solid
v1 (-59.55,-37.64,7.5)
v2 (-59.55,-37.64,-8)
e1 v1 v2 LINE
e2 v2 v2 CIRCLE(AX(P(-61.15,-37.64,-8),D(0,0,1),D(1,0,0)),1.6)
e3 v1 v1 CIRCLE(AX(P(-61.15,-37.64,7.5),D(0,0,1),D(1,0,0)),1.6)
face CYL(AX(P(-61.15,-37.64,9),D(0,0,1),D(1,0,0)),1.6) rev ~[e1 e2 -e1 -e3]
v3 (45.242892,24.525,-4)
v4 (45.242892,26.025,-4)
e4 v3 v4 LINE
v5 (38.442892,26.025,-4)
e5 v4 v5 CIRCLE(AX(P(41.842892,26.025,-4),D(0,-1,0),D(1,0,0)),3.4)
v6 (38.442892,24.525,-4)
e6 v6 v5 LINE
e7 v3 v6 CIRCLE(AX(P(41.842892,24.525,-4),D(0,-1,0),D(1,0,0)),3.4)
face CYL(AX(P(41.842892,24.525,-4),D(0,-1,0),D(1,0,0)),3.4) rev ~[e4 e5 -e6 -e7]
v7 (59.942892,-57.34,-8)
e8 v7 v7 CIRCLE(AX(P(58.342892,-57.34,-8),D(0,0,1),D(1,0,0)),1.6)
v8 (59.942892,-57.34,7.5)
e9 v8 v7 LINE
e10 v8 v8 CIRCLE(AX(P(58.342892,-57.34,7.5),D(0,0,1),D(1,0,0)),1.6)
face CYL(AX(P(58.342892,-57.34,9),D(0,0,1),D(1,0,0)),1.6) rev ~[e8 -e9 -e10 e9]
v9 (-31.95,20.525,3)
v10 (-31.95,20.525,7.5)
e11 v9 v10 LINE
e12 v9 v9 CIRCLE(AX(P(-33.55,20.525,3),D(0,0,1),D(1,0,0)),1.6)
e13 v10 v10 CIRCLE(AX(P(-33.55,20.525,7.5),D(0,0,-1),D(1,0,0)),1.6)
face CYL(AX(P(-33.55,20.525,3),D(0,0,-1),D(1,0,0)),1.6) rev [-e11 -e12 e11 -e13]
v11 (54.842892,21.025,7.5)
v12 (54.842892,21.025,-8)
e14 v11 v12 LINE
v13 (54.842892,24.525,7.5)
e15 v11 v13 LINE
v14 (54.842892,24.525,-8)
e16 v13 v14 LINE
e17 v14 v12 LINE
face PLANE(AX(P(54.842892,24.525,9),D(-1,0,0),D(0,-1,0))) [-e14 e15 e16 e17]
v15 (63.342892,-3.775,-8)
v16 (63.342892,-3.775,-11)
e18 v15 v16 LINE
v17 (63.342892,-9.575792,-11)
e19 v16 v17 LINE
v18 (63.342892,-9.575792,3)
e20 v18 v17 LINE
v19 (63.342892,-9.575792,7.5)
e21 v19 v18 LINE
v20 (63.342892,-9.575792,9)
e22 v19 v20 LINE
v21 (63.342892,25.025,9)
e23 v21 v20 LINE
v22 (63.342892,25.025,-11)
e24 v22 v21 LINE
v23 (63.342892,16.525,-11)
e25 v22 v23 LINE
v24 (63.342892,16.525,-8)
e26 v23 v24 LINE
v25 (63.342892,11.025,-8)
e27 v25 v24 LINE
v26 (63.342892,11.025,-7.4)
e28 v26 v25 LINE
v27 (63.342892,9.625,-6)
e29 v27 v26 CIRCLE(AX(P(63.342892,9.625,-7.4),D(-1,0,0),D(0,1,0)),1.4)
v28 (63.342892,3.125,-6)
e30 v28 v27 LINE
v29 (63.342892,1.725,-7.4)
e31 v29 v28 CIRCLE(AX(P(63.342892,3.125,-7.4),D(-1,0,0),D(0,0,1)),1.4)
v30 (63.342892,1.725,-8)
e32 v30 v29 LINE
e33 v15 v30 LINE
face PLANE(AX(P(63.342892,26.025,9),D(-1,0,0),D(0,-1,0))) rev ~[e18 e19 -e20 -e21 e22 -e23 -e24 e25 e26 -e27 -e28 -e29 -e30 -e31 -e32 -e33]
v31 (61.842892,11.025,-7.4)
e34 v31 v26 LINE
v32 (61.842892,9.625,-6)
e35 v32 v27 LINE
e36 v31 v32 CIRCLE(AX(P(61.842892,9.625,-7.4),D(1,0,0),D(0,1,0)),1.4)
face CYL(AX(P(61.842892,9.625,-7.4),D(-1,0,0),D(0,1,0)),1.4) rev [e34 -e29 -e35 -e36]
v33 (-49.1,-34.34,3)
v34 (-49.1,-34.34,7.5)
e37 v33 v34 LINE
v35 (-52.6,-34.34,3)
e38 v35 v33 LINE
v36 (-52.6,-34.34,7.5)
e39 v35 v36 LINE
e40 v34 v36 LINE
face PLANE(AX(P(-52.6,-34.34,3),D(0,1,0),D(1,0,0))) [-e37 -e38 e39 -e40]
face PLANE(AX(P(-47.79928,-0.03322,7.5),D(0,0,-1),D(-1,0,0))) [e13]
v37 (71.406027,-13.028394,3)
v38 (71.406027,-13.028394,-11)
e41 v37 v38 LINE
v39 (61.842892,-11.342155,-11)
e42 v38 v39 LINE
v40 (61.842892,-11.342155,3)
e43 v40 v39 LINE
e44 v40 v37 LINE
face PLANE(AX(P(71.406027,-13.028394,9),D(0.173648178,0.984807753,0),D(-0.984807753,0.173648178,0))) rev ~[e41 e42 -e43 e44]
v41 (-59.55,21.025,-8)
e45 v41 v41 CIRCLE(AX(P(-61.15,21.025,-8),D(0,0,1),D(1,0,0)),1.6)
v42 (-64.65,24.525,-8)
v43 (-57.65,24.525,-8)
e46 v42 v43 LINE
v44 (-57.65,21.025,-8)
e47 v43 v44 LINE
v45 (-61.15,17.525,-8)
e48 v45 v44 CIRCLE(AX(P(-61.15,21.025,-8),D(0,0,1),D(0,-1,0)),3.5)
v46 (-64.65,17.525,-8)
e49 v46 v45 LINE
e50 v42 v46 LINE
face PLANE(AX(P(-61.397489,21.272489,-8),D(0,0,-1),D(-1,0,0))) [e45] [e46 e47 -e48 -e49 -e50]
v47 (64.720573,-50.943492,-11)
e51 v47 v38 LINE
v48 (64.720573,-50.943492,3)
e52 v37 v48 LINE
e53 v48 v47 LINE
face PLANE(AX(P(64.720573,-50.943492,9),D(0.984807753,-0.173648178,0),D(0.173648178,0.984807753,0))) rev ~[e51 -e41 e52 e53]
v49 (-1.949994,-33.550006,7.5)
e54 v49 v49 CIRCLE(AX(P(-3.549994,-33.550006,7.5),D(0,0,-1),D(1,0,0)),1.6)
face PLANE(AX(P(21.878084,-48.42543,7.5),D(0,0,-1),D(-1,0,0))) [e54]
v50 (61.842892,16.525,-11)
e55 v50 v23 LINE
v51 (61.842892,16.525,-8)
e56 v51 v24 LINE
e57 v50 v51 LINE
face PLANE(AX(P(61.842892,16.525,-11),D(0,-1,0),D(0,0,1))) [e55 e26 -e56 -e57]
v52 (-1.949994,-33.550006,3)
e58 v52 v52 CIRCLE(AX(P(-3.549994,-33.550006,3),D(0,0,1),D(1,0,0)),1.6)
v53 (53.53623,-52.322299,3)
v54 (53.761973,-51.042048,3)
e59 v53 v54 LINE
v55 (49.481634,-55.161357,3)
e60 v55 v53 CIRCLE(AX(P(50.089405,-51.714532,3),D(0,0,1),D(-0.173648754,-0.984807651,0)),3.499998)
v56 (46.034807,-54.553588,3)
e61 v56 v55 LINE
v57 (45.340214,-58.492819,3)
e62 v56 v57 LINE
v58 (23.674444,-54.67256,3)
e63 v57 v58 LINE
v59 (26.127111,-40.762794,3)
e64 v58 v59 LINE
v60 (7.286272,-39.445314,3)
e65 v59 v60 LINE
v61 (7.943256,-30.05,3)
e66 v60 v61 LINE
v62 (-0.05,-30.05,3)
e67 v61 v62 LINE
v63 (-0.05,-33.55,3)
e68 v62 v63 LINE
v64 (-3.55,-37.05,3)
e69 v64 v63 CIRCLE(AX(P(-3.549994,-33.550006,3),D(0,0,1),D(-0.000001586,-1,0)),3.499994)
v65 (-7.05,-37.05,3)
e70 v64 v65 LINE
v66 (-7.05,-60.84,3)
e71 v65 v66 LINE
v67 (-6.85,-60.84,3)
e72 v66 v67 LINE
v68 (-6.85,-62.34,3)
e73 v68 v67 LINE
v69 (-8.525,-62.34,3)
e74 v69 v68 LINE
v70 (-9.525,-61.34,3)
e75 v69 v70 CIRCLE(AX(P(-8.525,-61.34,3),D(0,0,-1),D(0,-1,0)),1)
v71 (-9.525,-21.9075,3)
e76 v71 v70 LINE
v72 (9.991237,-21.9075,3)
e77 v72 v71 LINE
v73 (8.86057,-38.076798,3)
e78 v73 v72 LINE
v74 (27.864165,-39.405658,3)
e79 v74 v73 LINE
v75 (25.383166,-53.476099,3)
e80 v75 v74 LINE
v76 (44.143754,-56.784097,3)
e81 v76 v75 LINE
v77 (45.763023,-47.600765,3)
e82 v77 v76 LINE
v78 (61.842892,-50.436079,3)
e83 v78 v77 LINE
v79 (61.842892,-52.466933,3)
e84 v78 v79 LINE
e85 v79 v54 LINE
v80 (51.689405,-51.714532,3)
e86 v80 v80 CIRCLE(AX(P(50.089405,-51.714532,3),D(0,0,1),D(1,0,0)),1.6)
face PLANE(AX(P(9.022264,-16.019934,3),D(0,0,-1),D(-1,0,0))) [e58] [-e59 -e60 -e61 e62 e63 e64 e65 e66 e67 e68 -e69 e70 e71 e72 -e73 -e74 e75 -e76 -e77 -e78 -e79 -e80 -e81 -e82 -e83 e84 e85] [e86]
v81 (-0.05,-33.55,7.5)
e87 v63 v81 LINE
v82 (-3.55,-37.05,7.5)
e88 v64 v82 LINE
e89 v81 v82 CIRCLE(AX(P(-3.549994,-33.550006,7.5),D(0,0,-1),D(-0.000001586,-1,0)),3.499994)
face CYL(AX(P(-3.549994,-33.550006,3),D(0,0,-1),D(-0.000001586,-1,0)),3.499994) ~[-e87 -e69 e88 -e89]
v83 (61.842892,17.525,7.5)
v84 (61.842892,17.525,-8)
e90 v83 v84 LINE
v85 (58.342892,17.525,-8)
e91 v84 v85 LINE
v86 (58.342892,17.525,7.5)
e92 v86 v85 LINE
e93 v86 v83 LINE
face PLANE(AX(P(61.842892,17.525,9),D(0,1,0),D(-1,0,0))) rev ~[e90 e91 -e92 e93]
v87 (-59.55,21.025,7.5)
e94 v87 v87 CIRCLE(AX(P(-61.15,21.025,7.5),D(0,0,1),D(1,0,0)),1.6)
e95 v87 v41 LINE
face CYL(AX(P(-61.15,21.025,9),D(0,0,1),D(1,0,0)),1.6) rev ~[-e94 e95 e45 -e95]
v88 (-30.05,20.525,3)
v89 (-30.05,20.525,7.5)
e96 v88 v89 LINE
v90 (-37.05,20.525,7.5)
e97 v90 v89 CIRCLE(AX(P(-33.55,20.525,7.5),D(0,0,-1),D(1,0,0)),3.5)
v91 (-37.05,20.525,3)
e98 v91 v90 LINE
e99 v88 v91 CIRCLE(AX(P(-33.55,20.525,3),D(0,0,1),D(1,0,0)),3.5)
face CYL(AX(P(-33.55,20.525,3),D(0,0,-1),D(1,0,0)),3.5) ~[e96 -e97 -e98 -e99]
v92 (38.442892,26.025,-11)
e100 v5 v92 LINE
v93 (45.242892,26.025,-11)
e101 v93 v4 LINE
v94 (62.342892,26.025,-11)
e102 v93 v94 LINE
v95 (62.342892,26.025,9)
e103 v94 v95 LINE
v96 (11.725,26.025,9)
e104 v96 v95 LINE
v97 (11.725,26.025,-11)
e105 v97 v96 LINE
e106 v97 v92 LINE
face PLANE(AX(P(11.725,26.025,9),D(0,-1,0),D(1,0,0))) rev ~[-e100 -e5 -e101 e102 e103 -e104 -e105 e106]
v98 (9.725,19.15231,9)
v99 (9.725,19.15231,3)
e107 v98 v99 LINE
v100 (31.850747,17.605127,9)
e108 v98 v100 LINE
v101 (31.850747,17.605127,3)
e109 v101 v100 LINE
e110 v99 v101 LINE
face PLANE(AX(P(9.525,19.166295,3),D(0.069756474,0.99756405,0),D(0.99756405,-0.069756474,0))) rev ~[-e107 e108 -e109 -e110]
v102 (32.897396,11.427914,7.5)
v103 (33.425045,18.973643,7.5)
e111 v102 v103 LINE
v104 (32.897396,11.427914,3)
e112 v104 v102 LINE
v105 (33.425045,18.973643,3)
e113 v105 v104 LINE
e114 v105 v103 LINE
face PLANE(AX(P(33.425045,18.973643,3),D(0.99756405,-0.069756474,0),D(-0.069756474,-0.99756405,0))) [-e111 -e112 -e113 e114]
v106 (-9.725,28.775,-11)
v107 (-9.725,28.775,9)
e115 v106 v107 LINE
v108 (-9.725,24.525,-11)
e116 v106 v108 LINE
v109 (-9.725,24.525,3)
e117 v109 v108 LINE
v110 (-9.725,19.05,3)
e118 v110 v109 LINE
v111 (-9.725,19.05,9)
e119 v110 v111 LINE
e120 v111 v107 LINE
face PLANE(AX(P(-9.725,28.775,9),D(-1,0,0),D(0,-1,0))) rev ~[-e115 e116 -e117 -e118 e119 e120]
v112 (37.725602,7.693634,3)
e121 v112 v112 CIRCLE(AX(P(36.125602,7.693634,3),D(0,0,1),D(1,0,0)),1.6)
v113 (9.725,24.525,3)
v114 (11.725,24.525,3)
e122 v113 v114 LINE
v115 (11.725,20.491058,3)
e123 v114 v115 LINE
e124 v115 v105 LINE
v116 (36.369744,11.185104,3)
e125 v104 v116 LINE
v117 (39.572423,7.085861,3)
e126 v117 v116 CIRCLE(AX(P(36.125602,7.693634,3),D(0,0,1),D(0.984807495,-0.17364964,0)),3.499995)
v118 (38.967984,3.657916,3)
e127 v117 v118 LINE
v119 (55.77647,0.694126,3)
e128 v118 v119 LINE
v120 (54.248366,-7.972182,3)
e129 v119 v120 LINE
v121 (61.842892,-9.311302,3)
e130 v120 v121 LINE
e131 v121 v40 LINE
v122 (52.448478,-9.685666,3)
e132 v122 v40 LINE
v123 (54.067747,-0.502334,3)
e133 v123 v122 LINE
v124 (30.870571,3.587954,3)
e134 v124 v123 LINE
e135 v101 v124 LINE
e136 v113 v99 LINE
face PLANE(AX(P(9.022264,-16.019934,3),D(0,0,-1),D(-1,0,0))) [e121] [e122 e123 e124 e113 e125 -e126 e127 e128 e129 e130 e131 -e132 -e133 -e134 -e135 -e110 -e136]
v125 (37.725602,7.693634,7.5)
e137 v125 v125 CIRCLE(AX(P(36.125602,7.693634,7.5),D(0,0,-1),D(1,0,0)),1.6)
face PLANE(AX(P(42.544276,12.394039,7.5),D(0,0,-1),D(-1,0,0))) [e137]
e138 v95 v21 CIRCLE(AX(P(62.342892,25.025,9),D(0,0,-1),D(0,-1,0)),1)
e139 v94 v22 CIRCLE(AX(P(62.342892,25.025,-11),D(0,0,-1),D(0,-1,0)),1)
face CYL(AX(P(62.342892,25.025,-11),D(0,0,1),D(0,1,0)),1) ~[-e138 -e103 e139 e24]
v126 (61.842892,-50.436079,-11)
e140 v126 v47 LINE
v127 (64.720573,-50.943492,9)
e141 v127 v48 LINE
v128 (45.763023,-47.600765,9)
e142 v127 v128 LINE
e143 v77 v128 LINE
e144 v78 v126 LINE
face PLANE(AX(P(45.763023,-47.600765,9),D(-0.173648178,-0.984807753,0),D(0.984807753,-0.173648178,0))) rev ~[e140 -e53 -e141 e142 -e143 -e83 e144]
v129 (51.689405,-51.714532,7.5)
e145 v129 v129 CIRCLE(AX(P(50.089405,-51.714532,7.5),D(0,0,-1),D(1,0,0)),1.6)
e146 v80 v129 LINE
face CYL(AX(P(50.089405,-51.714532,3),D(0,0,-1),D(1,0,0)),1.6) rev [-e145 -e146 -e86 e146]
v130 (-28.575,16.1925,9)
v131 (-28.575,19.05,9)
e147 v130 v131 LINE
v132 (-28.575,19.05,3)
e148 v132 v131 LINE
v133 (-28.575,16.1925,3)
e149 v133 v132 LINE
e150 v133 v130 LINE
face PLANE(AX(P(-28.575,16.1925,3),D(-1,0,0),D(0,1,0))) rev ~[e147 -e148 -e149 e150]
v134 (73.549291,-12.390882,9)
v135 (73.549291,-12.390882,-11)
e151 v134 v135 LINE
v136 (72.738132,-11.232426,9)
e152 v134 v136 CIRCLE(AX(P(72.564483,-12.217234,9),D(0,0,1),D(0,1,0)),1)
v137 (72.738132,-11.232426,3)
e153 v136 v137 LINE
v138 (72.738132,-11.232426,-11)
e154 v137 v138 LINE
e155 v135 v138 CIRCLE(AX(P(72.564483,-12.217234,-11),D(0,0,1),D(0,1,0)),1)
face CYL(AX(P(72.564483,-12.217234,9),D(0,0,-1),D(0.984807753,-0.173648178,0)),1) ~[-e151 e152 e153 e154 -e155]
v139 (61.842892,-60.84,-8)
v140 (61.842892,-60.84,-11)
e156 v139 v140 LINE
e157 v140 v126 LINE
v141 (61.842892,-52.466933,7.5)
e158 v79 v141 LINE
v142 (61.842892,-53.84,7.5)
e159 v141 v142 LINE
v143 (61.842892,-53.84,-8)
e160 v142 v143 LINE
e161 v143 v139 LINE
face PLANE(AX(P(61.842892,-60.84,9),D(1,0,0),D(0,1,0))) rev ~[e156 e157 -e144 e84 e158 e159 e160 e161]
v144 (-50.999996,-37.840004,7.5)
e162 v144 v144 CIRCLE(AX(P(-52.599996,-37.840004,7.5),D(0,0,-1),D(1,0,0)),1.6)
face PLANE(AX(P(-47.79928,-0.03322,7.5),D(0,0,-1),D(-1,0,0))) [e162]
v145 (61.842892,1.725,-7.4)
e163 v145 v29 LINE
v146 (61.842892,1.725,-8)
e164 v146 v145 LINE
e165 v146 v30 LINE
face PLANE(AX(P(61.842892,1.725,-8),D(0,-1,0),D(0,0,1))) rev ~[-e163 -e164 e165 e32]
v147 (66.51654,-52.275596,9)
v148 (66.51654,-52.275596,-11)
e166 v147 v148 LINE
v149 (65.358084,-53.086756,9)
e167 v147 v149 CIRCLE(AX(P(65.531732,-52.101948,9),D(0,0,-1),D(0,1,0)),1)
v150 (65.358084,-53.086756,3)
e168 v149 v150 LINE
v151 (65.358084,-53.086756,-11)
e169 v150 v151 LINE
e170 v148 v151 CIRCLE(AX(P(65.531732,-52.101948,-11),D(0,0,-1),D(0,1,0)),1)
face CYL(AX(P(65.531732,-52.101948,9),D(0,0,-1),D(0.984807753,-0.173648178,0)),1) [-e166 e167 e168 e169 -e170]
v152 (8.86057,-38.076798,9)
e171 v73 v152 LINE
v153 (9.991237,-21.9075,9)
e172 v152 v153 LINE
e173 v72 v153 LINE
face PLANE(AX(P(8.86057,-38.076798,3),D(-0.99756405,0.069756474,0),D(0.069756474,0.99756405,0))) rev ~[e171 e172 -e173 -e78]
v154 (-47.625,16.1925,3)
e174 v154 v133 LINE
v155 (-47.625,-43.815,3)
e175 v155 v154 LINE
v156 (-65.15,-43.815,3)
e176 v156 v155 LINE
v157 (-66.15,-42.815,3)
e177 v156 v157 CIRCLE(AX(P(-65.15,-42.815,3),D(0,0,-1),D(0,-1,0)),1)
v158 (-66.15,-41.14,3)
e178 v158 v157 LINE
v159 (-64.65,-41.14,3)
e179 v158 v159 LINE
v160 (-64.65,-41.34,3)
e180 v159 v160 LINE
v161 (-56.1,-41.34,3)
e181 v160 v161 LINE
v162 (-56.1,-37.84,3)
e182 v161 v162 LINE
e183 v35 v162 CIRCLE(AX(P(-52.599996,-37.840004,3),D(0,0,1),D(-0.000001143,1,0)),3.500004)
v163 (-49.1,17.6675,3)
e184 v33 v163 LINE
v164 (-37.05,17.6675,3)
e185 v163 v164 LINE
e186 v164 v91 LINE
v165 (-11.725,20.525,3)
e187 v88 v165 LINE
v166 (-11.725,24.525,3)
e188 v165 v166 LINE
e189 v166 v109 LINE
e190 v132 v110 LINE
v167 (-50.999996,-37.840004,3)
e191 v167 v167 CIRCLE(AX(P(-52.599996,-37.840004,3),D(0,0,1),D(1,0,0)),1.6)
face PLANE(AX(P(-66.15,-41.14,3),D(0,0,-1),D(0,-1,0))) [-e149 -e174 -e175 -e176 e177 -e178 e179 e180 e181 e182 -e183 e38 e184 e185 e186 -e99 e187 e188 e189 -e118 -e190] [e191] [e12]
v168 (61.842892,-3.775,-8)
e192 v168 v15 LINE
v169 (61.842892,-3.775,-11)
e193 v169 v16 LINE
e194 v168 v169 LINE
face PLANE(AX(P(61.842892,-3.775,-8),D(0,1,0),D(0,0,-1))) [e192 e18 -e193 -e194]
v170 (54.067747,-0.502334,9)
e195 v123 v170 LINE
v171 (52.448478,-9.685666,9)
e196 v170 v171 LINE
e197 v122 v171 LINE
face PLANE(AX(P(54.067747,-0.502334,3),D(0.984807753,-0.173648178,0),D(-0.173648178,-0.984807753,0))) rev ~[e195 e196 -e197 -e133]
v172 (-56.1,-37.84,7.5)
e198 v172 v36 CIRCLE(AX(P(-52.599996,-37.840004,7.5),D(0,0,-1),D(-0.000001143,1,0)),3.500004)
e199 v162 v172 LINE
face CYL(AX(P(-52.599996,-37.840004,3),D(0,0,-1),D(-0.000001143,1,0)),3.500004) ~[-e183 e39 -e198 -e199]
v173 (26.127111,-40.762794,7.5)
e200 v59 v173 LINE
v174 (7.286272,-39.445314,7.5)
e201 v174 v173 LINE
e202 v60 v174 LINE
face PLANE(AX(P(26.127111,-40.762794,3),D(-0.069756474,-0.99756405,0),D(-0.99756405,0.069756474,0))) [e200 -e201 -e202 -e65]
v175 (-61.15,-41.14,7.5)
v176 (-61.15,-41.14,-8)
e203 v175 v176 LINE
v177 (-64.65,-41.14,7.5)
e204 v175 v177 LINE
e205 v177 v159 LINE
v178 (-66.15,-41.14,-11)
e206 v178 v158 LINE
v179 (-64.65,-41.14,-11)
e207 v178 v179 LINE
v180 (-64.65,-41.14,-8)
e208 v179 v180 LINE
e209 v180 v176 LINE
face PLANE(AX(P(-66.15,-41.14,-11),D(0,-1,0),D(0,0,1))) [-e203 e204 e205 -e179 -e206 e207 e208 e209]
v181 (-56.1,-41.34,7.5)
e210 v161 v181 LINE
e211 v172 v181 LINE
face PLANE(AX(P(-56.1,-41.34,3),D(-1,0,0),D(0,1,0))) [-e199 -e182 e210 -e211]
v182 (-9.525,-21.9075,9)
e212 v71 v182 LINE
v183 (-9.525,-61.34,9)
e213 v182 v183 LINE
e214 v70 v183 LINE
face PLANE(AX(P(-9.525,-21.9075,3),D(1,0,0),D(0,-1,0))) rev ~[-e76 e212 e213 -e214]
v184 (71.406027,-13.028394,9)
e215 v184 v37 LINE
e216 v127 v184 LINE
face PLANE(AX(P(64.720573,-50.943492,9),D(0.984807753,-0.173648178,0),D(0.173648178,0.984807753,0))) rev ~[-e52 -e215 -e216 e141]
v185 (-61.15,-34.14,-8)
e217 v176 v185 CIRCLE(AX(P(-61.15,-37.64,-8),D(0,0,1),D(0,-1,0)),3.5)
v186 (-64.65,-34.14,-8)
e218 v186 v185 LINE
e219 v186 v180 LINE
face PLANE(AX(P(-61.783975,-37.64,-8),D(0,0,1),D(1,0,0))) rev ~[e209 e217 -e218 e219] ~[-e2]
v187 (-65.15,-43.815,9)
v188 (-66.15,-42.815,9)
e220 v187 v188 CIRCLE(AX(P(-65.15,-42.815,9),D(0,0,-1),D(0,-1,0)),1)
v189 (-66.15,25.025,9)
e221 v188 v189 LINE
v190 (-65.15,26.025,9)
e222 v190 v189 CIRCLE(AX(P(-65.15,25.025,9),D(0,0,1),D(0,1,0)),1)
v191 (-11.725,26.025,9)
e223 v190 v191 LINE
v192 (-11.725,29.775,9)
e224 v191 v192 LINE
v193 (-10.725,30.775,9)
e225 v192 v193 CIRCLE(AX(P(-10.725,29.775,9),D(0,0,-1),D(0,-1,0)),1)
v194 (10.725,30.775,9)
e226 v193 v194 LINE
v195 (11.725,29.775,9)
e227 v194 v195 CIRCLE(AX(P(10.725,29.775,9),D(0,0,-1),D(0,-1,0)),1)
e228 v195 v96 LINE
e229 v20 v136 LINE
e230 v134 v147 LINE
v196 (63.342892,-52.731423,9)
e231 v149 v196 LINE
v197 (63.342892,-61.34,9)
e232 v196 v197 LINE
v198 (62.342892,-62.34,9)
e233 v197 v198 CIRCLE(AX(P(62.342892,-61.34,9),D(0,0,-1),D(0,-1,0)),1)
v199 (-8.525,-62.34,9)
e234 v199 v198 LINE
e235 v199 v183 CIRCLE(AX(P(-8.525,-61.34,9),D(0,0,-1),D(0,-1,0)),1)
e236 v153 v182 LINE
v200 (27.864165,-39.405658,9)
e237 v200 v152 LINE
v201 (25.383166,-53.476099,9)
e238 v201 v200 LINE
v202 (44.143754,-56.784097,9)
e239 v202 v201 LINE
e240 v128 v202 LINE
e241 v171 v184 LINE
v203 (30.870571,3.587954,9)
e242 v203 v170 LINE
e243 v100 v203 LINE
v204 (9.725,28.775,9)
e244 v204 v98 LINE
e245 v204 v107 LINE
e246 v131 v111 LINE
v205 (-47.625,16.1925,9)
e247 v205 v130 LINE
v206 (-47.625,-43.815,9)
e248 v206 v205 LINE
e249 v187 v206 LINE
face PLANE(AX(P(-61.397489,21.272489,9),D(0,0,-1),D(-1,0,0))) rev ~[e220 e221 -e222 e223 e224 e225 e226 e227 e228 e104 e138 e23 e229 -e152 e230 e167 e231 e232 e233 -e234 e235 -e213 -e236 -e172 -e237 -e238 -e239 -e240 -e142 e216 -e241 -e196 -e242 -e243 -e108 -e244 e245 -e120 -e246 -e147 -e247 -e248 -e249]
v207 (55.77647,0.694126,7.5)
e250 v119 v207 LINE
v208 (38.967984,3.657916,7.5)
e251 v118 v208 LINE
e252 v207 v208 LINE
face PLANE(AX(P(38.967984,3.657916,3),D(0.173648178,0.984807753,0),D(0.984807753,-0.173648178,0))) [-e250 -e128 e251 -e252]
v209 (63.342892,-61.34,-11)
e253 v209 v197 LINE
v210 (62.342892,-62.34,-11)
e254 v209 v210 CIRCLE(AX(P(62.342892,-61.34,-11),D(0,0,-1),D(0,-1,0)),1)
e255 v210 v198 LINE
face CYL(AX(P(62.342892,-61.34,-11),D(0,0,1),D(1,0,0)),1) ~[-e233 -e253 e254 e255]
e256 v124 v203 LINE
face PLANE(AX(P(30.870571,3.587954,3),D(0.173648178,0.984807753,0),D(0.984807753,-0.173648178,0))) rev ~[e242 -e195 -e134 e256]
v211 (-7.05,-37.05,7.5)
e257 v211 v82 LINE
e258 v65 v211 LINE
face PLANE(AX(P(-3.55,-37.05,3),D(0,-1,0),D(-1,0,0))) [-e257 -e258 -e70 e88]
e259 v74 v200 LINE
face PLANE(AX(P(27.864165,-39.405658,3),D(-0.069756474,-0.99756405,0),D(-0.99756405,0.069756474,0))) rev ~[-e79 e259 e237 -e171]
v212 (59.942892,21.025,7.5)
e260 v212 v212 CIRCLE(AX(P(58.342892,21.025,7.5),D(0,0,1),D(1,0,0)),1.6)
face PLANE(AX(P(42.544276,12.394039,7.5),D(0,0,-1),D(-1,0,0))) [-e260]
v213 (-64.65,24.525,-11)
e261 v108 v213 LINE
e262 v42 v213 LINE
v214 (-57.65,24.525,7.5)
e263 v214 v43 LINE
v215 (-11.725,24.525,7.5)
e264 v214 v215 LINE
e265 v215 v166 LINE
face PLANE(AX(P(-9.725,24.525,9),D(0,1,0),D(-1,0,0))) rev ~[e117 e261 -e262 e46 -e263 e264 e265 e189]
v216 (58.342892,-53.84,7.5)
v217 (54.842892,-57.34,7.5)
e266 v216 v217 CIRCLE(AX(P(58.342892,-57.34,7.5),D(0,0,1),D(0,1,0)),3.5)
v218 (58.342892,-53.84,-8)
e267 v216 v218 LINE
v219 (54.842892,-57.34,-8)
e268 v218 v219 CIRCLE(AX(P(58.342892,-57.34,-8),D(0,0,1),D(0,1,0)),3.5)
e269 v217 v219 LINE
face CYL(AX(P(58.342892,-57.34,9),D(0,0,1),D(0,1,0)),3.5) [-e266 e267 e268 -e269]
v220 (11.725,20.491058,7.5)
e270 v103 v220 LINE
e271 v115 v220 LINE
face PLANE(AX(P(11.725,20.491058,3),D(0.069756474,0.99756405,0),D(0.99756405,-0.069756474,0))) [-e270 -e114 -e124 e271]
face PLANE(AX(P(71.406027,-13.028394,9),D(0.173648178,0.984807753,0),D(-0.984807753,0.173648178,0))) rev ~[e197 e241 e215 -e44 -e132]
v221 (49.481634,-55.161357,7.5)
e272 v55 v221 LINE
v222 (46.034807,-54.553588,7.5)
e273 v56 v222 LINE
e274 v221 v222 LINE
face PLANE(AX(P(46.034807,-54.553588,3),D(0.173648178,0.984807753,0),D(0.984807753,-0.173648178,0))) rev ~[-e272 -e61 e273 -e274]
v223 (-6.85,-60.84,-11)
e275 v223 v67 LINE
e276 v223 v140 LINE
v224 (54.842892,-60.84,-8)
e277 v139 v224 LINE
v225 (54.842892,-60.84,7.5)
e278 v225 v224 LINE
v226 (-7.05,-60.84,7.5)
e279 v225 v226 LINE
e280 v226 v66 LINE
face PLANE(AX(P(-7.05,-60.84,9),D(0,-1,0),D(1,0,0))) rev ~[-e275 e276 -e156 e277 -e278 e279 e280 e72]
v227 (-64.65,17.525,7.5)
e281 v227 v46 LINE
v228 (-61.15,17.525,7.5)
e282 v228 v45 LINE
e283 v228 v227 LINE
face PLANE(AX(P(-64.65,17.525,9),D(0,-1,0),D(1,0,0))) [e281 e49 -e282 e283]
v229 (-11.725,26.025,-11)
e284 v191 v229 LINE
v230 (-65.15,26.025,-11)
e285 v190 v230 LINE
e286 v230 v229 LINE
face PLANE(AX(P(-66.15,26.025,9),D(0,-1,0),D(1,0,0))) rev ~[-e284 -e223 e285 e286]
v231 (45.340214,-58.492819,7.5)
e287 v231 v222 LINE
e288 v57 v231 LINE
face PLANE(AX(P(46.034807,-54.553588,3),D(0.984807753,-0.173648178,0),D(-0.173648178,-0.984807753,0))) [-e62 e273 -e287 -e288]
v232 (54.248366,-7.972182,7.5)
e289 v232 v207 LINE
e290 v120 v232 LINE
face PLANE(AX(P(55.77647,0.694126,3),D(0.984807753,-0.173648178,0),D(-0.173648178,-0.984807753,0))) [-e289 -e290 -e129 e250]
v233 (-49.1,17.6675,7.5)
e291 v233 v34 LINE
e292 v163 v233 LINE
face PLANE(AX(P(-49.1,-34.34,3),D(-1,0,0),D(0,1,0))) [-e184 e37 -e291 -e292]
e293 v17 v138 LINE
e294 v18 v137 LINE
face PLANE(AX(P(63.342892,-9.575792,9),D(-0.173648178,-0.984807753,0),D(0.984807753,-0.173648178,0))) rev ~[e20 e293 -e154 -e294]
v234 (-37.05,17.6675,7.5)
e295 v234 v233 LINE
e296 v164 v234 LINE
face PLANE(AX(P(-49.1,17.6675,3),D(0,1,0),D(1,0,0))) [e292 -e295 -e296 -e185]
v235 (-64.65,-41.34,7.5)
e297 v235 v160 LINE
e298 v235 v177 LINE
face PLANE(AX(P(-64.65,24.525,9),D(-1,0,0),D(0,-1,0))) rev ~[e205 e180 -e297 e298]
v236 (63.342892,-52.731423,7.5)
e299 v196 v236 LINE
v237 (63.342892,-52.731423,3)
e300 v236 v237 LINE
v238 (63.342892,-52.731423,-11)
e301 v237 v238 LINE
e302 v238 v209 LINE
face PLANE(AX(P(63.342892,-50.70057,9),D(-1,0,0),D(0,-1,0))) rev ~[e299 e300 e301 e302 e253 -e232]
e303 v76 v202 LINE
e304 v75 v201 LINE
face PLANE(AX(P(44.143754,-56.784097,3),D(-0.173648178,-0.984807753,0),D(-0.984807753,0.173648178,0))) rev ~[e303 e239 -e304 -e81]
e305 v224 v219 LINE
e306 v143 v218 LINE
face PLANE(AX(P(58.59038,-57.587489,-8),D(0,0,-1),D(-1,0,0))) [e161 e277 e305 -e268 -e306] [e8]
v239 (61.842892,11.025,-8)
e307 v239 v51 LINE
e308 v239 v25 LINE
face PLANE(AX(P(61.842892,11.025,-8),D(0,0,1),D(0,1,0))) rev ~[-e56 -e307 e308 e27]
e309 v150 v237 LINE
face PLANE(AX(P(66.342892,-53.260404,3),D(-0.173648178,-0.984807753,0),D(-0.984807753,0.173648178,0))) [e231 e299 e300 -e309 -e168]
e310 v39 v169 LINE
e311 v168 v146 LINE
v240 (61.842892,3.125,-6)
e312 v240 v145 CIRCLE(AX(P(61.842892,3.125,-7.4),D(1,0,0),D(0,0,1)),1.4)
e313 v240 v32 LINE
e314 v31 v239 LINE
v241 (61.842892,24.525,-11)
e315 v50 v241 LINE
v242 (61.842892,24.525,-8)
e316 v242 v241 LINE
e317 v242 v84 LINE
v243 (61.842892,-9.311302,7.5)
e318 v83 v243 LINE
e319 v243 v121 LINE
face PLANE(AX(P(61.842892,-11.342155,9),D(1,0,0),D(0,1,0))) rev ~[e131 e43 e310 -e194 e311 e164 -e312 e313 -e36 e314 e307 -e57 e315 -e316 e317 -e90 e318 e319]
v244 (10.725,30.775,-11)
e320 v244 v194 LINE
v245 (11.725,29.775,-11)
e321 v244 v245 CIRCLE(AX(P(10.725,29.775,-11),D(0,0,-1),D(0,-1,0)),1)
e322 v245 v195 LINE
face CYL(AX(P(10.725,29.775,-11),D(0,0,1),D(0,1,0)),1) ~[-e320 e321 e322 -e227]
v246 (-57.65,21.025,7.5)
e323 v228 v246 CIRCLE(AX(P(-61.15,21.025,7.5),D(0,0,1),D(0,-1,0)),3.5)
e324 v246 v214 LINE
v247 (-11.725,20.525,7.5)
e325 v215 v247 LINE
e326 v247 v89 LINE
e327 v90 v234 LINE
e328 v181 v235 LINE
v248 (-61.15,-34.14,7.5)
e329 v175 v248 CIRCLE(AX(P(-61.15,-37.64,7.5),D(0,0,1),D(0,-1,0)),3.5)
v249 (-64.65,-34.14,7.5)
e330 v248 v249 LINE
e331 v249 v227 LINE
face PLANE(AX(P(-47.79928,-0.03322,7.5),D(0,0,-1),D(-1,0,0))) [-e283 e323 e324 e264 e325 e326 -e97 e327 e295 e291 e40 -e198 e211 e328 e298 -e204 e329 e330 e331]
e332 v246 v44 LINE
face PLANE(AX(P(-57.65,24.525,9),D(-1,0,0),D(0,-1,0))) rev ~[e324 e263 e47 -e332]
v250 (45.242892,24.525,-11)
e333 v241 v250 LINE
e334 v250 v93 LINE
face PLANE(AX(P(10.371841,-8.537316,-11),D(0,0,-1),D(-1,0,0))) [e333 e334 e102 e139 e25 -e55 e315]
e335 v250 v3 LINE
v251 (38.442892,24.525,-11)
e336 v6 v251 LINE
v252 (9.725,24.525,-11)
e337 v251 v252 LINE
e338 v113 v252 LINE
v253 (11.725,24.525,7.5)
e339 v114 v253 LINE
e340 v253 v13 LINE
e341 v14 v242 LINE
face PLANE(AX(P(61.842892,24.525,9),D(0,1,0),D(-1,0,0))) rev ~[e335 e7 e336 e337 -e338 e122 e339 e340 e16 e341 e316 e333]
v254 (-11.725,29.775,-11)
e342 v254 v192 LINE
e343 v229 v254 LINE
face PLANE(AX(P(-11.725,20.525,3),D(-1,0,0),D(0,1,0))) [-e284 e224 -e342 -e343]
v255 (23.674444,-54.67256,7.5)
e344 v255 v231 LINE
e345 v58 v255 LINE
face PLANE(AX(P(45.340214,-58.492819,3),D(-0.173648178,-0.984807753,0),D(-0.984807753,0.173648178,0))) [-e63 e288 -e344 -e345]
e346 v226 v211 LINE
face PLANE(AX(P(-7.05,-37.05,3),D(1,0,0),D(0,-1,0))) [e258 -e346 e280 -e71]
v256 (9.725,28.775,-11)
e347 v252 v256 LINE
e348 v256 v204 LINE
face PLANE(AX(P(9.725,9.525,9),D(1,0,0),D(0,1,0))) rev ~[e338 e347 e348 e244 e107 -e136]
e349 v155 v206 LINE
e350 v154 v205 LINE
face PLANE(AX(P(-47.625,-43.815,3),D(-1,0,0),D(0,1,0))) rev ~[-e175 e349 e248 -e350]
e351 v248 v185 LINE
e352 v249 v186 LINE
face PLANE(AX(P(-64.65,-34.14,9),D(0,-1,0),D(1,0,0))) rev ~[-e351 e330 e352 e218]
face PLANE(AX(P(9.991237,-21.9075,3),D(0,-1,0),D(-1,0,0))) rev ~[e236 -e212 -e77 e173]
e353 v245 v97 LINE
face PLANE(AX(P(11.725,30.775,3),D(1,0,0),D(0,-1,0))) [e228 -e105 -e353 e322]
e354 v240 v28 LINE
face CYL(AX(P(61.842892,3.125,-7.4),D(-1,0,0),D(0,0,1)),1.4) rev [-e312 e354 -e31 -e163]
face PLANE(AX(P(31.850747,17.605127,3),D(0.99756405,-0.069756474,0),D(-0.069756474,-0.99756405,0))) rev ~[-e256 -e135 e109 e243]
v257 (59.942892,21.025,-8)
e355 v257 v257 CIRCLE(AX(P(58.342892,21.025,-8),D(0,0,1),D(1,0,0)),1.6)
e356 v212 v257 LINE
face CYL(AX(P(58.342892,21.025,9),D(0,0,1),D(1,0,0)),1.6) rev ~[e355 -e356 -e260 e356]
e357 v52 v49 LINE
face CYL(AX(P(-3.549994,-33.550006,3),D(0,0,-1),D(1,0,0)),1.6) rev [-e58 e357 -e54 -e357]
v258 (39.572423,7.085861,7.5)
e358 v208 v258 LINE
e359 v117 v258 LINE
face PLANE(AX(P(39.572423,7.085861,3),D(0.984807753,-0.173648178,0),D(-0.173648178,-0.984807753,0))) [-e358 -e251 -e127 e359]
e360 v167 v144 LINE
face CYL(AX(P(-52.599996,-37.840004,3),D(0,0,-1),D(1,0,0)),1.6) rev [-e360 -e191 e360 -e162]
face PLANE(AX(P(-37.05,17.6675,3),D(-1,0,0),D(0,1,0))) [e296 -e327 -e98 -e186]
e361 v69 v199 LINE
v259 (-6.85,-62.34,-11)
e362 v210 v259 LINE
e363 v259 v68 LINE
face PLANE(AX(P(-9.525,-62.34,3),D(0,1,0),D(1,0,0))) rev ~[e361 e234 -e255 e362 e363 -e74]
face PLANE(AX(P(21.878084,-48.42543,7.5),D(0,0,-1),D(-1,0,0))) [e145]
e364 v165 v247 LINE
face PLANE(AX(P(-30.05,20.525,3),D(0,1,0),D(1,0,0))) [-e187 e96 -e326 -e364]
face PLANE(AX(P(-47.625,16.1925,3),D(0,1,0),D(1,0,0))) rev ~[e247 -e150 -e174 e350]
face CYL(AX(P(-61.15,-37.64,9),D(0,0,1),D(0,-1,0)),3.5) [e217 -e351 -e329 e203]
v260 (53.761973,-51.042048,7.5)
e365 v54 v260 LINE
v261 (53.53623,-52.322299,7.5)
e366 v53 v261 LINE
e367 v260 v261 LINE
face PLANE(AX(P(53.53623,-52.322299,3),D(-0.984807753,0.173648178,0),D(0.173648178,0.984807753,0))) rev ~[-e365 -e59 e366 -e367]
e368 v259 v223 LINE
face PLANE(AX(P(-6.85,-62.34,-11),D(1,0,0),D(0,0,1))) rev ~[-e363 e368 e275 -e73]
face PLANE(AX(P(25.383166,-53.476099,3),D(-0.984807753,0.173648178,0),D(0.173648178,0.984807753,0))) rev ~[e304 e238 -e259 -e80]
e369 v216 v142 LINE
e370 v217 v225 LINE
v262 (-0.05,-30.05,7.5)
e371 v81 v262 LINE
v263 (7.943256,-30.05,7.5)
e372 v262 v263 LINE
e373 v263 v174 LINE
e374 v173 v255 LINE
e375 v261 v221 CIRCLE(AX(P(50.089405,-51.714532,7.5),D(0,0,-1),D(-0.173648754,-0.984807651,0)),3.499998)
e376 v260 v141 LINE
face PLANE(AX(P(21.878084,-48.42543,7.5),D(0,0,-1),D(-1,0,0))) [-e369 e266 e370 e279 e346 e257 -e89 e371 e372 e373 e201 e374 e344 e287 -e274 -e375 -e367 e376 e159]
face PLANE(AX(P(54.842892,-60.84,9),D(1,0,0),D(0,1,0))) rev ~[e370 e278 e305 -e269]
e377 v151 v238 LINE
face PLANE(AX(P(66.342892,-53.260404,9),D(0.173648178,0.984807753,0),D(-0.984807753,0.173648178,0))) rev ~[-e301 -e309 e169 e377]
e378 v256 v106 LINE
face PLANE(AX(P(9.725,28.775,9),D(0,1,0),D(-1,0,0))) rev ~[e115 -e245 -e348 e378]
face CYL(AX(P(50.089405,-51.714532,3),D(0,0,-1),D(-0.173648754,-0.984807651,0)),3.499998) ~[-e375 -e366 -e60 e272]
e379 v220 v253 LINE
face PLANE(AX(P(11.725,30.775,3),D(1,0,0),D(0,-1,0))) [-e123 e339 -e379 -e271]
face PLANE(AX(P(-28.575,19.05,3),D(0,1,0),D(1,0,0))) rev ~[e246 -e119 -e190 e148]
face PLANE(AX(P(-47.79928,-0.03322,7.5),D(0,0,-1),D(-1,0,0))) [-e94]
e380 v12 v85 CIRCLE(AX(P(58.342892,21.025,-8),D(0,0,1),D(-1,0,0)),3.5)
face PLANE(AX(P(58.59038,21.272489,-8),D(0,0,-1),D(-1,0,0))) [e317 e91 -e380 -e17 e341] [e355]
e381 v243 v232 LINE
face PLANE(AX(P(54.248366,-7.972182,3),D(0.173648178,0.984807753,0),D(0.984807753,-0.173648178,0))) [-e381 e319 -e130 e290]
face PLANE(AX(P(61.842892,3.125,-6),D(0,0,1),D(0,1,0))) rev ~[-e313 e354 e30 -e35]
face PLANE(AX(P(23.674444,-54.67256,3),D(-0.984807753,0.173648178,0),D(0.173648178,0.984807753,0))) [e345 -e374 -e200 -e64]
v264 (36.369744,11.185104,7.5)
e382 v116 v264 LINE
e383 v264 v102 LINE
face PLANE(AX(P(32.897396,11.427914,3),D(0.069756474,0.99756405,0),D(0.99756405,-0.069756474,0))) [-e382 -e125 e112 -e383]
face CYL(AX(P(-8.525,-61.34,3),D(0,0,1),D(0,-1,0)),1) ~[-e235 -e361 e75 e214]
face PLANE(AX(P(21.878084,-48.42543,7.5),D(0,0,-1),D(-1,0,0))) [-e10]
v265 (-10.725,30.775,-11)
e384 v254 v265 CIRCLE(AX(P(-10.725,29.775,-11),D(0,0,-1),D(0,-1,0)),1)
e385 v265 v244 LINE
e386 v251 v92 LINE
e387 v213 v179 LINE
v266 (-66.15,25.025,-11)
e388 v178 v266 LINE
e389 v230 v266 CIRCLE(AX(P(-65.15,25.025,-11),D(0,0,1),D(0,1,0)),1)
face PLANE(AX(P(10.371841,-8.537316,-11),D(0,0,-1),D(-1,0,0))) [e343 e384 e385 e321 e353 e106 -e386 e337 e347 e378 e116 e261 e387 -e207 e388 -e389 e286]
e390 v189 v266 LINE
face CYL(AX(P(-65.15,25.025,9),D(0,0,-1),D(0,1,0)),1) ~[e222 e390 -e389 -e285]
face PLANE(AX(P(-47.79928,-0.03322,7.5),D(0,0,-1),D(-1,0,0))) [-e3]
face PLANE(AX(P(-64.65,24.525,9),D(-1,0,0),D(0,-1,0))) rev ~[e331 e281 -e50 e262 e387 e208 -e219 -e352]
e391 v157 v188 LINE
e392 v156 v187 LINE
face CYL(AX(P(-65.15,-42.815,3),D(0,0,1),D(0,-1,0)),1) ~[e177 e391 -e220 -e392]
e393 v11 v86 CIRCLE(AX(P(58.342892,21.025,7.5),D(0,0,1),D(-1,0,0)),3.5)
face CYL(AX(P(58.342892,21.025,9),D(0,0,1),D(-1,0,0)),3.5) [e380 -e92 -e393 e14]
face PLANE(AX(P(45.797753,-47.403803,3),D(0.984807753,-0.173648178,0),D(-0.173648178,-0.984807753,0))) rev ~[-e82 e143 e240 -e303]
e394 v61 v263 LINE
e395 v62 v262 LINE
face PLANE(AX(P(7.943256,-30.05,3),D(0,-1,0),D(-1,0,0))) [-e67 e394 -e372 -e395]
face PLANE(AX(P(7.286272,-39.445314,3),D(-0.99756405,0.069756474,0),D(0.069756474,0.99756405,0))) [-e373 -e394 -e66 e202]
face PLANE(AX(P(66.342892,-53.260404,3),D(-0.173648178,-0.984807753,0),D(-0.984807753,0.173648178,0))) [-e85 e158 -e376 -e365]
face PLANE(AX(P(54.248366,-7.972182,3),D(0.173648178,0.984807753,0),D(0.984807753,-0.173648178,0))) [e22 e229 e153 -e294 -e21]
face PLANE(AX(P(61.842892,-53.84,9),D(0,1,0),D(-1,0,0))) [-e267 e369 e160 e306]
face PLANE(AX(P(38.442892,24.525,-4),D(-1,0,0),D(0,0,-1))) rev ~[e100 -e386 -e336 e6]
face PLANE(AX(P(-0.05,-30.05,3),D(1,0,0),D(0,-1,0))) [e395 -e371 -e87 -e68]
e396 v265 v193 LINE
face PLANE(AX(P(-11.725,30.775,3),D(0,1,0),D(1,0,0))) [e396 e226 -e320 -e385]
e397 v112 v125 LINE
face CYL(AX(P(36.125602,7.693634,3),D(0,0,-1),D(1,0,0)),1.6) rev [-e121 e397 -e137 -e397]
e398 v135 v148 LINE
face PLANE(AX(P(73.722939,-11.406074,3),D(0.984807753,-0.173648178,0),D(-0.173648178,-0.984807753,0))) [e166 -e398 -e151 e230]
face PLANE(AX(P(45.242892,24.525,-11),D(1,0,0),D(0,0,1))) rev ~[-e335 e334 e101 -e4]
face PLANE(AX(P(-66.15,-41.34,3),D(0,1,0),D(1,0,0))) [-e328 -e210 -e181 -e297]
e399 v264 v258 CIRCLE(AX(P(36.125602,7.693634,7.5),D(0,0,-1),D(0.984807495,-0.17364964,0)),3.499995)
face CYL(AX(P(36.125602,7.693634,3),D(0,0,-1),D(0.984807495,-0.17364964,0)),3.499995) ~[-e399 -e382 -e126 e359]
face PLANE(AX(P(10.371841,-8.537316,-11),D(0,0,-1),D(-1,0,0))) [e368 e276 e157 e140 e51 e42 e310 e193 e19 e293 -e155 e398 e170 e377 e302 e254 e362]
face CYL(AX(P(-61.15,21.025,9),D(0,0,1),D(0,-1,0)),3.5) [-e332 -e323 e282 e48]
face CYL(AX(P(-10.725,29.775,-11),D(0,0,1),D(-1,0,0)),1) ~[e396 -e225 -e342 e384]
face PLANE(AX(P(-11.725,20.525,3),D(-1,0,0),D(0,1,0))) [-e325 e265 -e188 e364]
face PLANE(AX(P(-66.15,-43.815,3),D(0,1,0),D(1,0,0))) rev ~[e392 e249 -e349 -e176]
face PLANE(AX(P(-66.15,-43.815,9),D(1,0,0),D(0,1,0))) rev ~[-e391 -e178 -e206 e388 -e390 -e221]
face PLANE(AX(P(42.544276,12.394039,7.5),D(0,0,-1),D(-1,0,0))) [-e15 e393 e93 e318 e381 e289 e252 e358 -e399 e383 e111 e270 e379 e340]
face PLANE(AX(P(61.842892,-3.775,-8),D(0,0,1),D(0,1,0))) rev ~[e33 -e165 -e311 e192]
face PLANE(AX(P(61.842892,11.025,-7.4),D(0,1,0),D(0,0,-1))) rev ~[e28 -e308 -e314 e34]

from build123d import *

# Parameters (mm, degrees)
SKETCH029_R     = 1.6
PAD013_DEPTH    = 6
POCKET001_DEPTH = 6.001
POCKET002_DEPTH = 6.001
PAD014_DEPTH    = 1.5
PAD015_DEPTH    = 20
SKETCH034_W     = 0.2
SKETCH034_H     = 14
POCKET003_DEPTH = 1.5
SKETCH035_W     = 0.2
SKETCH035_H     = 14
POCKET004_DEPTH = 1.5
SKETCH036_R     = 1.6
PAD016_DEPTH    = 17
POCKET005_DEPTH = 11.8810475508
POCKET006_DEPTH = 6.251
FILLET001_R     = 1


with BuildPart() as part:
    # Sketch029 (on Face1 of Binder) → Pad013 (new body)
    with BuildSketch(Plane.XY.offset(3)):
        with BuildLine():
            Line((-66.15, -41.34), (-56.1, -41.34))
            Line((-56.1, -41.34), (-56.1, -37.84))
            ThreePointArc((-52.6, -34.34), (-55.0748725626, -35.3651274374), (-56.1, -37.84))
            Line((-52.6, -34.34), (-49.1, -34.34))
            Line((-49.1, -34.34), (-49.1, 17.6675))
            Line((-49.1, 17.6675), (-37.05, 17.6675))
            Line((-37.05, 17.6675), (-37.05, 20.525))
            ThreePointArc((-30.05, 20.525), (-33.55, 24.025), (-37.05, 20.525))
            Line((-30.05, 20.525), (-11.725, 20.525))
            Line((-11.725, 20.525), (-11.725, 30.775))
            Line((-11.725, 30.775), (11.725, 30.775))
            Line((11.725, 30.775), (11.725, 20.4910582095))
            Line((11.725, 20.4910582095), (33.4250449924, 18.9736432442))
            Line((33.4250449924, 18.9736432442), (32.8973962111, 11.4279141223))
            Line((32.8973962111, 11.4279141223), (36.3697437262, 11.1851039306))
            ThreePointArc((39.5724232036, 7.0858611329), (38.8836355297, 9.8484463434), (36.3697437262, 11.1851039306))
            Line((39.5724232036, 7.0858611329), (38.9679840019, 3.657916077))
            Line((38.9679840019, 3.657916077), (55.7764699529, 0.694126499))
            Line((55.7764699529, 0.694126499), (54.2483659895, -7.9721817275))
            Line((54.2483659895, -7.9721817275), (73.7229393053, -11.4060744409))
            Line((73.7229393053, -11.4060744409), (66.3428917544, -53.2604039439))
            Line((66.3428917544, -53.2604039439), (53.7619727097, -51.0420484742))
            Line((53.5362300787, -52.3222985531), (53.7619727097, -51.0420484742))
            ThreePointArc((49.4816343214, -55.1613570668), (52.0969209571, -54.5815627814), (53.5362300787, -52.3222985531))
            Line((46.0348071858, -54.553588445), (49.4816343214, -55.1613570668))
            Line((46.0348071858, -54.553588445), (45.3402144751, -58.492819457))
            Line((45.3402144751, -58.492819457), (23.6744439088, -54.6725595483))
            Line((23.6744439088, -54.6725595483), (26.1271109464, -40.7627935689))
            Line((26.1271109464, -40.7627935689), (7.2862718147, -39.4453137541))
            Line((7.2862718147, -39.4453137541), (7.9432561527, -30.05))
            Line((7.9432561527, -30.05), (-0.05, -30.05))
            Line((-0.05, -30.05), (-0.05, -33.55))
            ThreePointArc((-3.55, -37.05), (-1.0751246396, -36.0248753604), (-0.05, -33.55))
            Line((-3.55, -37.05), (-7.05, -37.05))
            Line((-7.05, -37.05), (-7.05, -62.34))
            Line((-9.525, -62.34), (-7.05, -62.34))
            Line((-9.525, -21.9075), (-9.525, -62.34))
            Line((9.9912370186, -21.9075), (-9.525, -21.9075))
            Line((8.8605695876, -38.0767975787), (9.9912370186, -21.9075))
            Line((27.864164745, -39.4056584035), (8.8605695876, -38.0767975787))
            Line((25.3831664066, -53.4760991747), (27.864164745, -39.4056584035))
            Line((44.1437541015, -56.7840969593), (25.3831664066, -53.4760991747))
            Line((45.7977529938, -47.4038031118), (44.1437541015, -56.7840969593))
            Line((64.5583406887, -50.7118008964), (45.7977529938, -47.4038031118))
            Line((71.1743362578, -13.1906255066), (64.5583406887, -50.7118008964))
            Line((52.4137485629, -9.8826277221), (71.1743362578, -13.1906255066))
            Line((54.0677474552, -0.5023338746), (52.4137485629, -9.8826277221))
            Line((30.870571009, 3.5879542091), (54.0677474552, -0.5023338746))
            Line((31.8507472195, 17.6051270688), (30.870571009, 3.5879542091))
            Line((9.525, 19.1662953961), (31.8507472195, 17.6051270688))
            Line((9.525, 28.575), (9.525, 19.1662953961))
            Line((-9.525, 28.575), (9.525, 28.575))
            Line((-9.525, 19.05), (-9.525, 28.575))
            Line((-28.575, 19.05), (-9.525, 19.05))
            Line((-28.575, 16.1925), (-28.575, 19.05))
            Line((-47.625, 16.1925), (-28.575, 16.1925))
            Line((-47.625, -43.815), (-47.625, 16.1925))
            Line((-66.15, -43.815), (-47.625, -43.815))
            Line((-66.15, -41.34), (-66.15, -43.815))
        make_face()
        with Locations((-33.55, 20.525)):
            Circle(SKETCH029_R, mode=Mode.SUBTRACT)
        with Locations((-52.599996, -37.840004)):
            Circle(SKETCH029_R, mode=Mode.SUBTRACT)
        with Locations((-3.5499944477, -33.5500055523)):
            Circle(SKETCH029_R, mode=Mode.SUBTRACT)
        with Locations((50.0894046049, -51.7145323045)):
            Circle(SKETCH029_R, mode=Mode.SUBTRACT)
        with Locations((36.1256015808, 7.6936340617)):
            Circle(SKETCH029_R, mode=Mode.SUBTRACT)
    extrude(amount=PAD013_DEPTH)

    # Sketch030 (on Vertex106 of Pad013) → Pocket001 (cut, through all)
    with BuildSketch(Plane(origin=(9.525, 28.575, 9), x_dir=(1, 0, 0), z_dir=(0, 0, 1))):
        Polygon((0, 0), (0, -19.05), (0.2, -19.05), (0.2, 0.2), (-19.25, 0.2), (-19.25, -19.05), (-19.05, -19.05), (-19.05, 0), align=None)
    extrude(amount=-POCKET001_DEPTH, mode=Mode.SUBTRACT)

    # Sketch031 (on Vertex111 of Pocket001) → Pocket002 (cut, through all)
    with BuildSketch(Plane(origin=(64.5583406887, -50.7118008964, 9), x_dir=(1, 0, 0), z_dir=(0, 0, 1))):
        Polygon((6.6159955691, 37.5211753898), (0, 0), (-18.7605876949, 3.3079977846), (-18.7953173304, 3.111036234), (0.1622319151, -0.2316911861), (6.8476867552, 37.6834073048), (-12.1098624902, 41.0261347249), (-12.1445921258, 40.8291731743), align=None)
    extrude(amount=-POCKET002_DEPTH, mode=Mode.SUBTRACT)

    # Sketch032 (on Face5 of Pocket002) → Pad014 (join)
    with BuildSketch(Plane(origin=(0, 0, 9), x_dir=(-1, 0, 0), z_dir=(0, 0, -1))):
        Polygon((11.725, 26.025), (11.725, 19.05), (28.575, 19.05), (28.575, 16.1925), (47.625, 16.1925), (47.625, -43.815), (66.15, -43.815), (66.15, 26.025), align=None)
        Polygon((-11.725, 26.025), (-63.3428917544, 26.025), (-63.3428917544, -11.6066452204), (-52.4484781984, -9.6856661715), (-54.0677474552, -0.5023338746), (-30.870571009, 3.5879542091), (-31.8507472195, 17.6051270688), (-11.725, 19.0124564098), align=None)
        Polygon((9.525, -62.34), (9.525, -21.9075), (-9.9912370186, -21.9075), (-8.8605695876, -38.0767975787), (-27.864164745, -39.4056584035), (-25.3831664066, -53.4760991747), (-44.1437541015, -56.7840969593), (-45.7630233582, -47.6007646624), (-63.3428917544, -50.700569778), (-63.3428917544, -62.34), align=None)
    extrude(amount=PAD014_DEPTH)

    # Sketch033 (on Face78 of Pad014) → Pad015 (join)
    with BuildSketch(Plane(origin=(0, 0, 9), x_dir=(-1, 0, 0), z_dir=(0, 0, -1))):
        Polygon((66.15, -41.34), (66.15, 26.025), (11.725, 26.025), (11.725, 30.775), (-11.725, 30.775), (-11.725, 26.025), (-63.3428917544, 26.025), (-63.3428917544, -9.5757919966), (-73.7229393053, -11.4060744409), (-66.3428917544, -53.2604039439), (-63.3428917544, -52.7314230018), (-63.3428917544, -62.34), (7.05, -62.34), (7.05, -60.84), (-61.8428917544, -60.84), (-61.8428917544, -50.4360793069), (-64.7205726037, -50.9434920825), (-71.4060274439, -13.0283935916), (-61.8428917544, -11.3421547493), (-61.8428917544, 24.525), (-9.725, 24.525), (-9.725, 28.775), (9.725, 28.775), (9.725, 24.525), (64.65, 24.525), (64.65, -41.34), align=None)
    extrude(amount=PAD015_DEPTH)

    # Sketch034 (on Vertex1 of Pad015) → Pocket003 (cut)
    with BuildSketch(Plane(origin=(-66.15, -41.34, 3), x_dir=(0, -1, 0), z_dir=(-1, 0, 0))):
        with Locations((-0.1, -7)):
            Rectangle(SKETCH034_W, SKETCH034_H)
    extrude(amount=-POCKET003_DEPTH, mode=Mode.SUBTRACT)

    # Sketch035 → Pocket004 (cut)
    with BuildSketch(Plane(origin=(-7.05, -62.34, 3), x_dir=(1, 0, 0), z_dir=(0, -1, 0))):
        with Locations((0.1, -7)):
            Rectangle(SKETCH035_W, SKETCH035_H)
    extrude(amount=-POCKET004_DEPTH, mode=Mode.SUBTRACT)

    # Sketch036 (on Face27 of Pocket004) → Pad016 (join)
    with BuildSketch(Plane.XY.offset(9)):
        with BuildLine():
            Line((-64.65, 24.525), (-57.65, 24.525))
            Line((-57.65, 24.525), (-57.65, 21.025))
            ThreePointArc((-61.15, 17.525), (-58.6751262658, 18.5501262658), (-57.65, 21.025))
            Line((-64.65, 17.525), (-61.15, 17.525))
            Line((-64.65, 24.525), (-64.65, 17.525))
        make_face()
        with Locations((-61.15, 21.025)):
            Circle(SKETCH036_R, mode=Mode.SUBTRACT)
        with BuildLine():
            Line((-64.65, -34.14), (-64.65, -41.14))
            Line((-64.65, -41.14), (-61.15, -41.14))
            ThreePointArc((-61.15, -41.14), (-57.65, -37.64), (-61.15, -34.14))
            Line((-64.65, -34.14), (-61.15, -34.14))
        make_face()
        with Locations((-61.15, -37.64)):
            Circle(SKETCH036_R, mode=Mode.SUBTRACT)
        with BuildLine():
            Line((61.8428917544, -53.84), (61.8428917544, -60.84))
            Line((61.8428917544, -60.84), (54.8428917544, -60.84))
            Line((54.8428917544, -60.84), (54.8428917544, -57.34))
            ThreePointArc((58.3428917544, -53.84), (55.8680180203, -54.8651262658), (54.8428917544, -57.34))
            Line((61.8428917544, -53.84), (58.3428917544, -53.84))
        make_face()
        with Locations((58.3428917544, -57.34)):
            Circle(SKETCH036_R, mode=Mode.SUBTRACT)
        with BuildLine():
            Line((61.8428917544, 24.525), (61.8428917544, 17.525))
            Line((61.8428917544, 17.525), (58.3428917544, 17.525))
            ThreePointArc((54.8428917544, 21.025), (55.8680180203, 18.5501262658), (58.3428917544, 17.525))
            Line((54.8428917544, 24.525), (54.8428917544, 21.025))
            Line((54.8428917544, 24.525), (61.8428917544, 24.525))
        make_face()
        with Locations((58.3428917544, 21.025)):
            Circle(SKETCH036_R, mode=Mode.SUBTRACT)
    extrude(amount=-PAD016_DEPTH)

    # Sketch037 (on Vertex85 of Pad016) → Pocket005 (cut, through all)
    with BuildSketch(Plane(origin=(61.8428917544, 16.525, -11), x_dir=(0, 1, 0), z_dir=(1, 0, 0))):
        with BuildLine():
            Line((0, 0), (0, 3))
            Line((-5.5, 3), (0, 3))
            Line((-5.5, 3.6), (-5.5, 3))
            ThreePointArc((-5.5, 3.6), (-5.9100505063, 4.5899494937), (-6.9, 5))
            Line((-13.4, 5), (-6.9, 5))
            ThreePointArc((-13.4, 5), (-14.3899494937, 4.5899494937), (-14.8, 3.6))
            Line((-14.8, 3), (-14.8, 3.6))
            Line((-20.3, 3), (-14.8, 3))
            Line((-20.3, 3), (-20.3, 0))
            Line((-20.3, 0), (0, 0))
        make_face()
    extrude(amount=POCKET005_DEPTH, mode=Mode.SUBTRACT)

    # Sketch038 (on Vertex75 of Pocket005) → Pocket006 (cut, through all)
    with BuildSketch(Plane(origin=(48.8428917544, 24.525, -11), x_dir=(1, 0, 0), z_dir=(0, -1, 0))):
        with BuildLine():
            ThreePointArc((-3.6, 7), (-7, 10.4), (-10.4, 7))
            Line((-10.4, 7), (-10.4, 0))
            Line((-10.4, 0), (-3.6, 0))
            Line((-3.6, 0), (-3.6, 7))
        make_face()
    extrude(amount=-POCKET006_DEPTH, mode=Mode.SUBTRACT)

    # Fillet001
    fillet001_edges = [part.edges().sort_by_distance(p)[0] for p in [
        (-9.525, -62.34, 6),
        (-66.15, -43.815, 6),
        (63.342892, -62.34, -1),
        (66.342892, -53.260404, -1),
        (73.722939, -11.406074, -1),
        (63.342892, 26.025, -1),
        (-66.15, 26.025, -1),
        (-11.725, 30.775, -1),
        (11.725, 30.775, -1),
    ]]
    fillet(fillet001_edges, radius=FILLET001_R)


solid = part.part
